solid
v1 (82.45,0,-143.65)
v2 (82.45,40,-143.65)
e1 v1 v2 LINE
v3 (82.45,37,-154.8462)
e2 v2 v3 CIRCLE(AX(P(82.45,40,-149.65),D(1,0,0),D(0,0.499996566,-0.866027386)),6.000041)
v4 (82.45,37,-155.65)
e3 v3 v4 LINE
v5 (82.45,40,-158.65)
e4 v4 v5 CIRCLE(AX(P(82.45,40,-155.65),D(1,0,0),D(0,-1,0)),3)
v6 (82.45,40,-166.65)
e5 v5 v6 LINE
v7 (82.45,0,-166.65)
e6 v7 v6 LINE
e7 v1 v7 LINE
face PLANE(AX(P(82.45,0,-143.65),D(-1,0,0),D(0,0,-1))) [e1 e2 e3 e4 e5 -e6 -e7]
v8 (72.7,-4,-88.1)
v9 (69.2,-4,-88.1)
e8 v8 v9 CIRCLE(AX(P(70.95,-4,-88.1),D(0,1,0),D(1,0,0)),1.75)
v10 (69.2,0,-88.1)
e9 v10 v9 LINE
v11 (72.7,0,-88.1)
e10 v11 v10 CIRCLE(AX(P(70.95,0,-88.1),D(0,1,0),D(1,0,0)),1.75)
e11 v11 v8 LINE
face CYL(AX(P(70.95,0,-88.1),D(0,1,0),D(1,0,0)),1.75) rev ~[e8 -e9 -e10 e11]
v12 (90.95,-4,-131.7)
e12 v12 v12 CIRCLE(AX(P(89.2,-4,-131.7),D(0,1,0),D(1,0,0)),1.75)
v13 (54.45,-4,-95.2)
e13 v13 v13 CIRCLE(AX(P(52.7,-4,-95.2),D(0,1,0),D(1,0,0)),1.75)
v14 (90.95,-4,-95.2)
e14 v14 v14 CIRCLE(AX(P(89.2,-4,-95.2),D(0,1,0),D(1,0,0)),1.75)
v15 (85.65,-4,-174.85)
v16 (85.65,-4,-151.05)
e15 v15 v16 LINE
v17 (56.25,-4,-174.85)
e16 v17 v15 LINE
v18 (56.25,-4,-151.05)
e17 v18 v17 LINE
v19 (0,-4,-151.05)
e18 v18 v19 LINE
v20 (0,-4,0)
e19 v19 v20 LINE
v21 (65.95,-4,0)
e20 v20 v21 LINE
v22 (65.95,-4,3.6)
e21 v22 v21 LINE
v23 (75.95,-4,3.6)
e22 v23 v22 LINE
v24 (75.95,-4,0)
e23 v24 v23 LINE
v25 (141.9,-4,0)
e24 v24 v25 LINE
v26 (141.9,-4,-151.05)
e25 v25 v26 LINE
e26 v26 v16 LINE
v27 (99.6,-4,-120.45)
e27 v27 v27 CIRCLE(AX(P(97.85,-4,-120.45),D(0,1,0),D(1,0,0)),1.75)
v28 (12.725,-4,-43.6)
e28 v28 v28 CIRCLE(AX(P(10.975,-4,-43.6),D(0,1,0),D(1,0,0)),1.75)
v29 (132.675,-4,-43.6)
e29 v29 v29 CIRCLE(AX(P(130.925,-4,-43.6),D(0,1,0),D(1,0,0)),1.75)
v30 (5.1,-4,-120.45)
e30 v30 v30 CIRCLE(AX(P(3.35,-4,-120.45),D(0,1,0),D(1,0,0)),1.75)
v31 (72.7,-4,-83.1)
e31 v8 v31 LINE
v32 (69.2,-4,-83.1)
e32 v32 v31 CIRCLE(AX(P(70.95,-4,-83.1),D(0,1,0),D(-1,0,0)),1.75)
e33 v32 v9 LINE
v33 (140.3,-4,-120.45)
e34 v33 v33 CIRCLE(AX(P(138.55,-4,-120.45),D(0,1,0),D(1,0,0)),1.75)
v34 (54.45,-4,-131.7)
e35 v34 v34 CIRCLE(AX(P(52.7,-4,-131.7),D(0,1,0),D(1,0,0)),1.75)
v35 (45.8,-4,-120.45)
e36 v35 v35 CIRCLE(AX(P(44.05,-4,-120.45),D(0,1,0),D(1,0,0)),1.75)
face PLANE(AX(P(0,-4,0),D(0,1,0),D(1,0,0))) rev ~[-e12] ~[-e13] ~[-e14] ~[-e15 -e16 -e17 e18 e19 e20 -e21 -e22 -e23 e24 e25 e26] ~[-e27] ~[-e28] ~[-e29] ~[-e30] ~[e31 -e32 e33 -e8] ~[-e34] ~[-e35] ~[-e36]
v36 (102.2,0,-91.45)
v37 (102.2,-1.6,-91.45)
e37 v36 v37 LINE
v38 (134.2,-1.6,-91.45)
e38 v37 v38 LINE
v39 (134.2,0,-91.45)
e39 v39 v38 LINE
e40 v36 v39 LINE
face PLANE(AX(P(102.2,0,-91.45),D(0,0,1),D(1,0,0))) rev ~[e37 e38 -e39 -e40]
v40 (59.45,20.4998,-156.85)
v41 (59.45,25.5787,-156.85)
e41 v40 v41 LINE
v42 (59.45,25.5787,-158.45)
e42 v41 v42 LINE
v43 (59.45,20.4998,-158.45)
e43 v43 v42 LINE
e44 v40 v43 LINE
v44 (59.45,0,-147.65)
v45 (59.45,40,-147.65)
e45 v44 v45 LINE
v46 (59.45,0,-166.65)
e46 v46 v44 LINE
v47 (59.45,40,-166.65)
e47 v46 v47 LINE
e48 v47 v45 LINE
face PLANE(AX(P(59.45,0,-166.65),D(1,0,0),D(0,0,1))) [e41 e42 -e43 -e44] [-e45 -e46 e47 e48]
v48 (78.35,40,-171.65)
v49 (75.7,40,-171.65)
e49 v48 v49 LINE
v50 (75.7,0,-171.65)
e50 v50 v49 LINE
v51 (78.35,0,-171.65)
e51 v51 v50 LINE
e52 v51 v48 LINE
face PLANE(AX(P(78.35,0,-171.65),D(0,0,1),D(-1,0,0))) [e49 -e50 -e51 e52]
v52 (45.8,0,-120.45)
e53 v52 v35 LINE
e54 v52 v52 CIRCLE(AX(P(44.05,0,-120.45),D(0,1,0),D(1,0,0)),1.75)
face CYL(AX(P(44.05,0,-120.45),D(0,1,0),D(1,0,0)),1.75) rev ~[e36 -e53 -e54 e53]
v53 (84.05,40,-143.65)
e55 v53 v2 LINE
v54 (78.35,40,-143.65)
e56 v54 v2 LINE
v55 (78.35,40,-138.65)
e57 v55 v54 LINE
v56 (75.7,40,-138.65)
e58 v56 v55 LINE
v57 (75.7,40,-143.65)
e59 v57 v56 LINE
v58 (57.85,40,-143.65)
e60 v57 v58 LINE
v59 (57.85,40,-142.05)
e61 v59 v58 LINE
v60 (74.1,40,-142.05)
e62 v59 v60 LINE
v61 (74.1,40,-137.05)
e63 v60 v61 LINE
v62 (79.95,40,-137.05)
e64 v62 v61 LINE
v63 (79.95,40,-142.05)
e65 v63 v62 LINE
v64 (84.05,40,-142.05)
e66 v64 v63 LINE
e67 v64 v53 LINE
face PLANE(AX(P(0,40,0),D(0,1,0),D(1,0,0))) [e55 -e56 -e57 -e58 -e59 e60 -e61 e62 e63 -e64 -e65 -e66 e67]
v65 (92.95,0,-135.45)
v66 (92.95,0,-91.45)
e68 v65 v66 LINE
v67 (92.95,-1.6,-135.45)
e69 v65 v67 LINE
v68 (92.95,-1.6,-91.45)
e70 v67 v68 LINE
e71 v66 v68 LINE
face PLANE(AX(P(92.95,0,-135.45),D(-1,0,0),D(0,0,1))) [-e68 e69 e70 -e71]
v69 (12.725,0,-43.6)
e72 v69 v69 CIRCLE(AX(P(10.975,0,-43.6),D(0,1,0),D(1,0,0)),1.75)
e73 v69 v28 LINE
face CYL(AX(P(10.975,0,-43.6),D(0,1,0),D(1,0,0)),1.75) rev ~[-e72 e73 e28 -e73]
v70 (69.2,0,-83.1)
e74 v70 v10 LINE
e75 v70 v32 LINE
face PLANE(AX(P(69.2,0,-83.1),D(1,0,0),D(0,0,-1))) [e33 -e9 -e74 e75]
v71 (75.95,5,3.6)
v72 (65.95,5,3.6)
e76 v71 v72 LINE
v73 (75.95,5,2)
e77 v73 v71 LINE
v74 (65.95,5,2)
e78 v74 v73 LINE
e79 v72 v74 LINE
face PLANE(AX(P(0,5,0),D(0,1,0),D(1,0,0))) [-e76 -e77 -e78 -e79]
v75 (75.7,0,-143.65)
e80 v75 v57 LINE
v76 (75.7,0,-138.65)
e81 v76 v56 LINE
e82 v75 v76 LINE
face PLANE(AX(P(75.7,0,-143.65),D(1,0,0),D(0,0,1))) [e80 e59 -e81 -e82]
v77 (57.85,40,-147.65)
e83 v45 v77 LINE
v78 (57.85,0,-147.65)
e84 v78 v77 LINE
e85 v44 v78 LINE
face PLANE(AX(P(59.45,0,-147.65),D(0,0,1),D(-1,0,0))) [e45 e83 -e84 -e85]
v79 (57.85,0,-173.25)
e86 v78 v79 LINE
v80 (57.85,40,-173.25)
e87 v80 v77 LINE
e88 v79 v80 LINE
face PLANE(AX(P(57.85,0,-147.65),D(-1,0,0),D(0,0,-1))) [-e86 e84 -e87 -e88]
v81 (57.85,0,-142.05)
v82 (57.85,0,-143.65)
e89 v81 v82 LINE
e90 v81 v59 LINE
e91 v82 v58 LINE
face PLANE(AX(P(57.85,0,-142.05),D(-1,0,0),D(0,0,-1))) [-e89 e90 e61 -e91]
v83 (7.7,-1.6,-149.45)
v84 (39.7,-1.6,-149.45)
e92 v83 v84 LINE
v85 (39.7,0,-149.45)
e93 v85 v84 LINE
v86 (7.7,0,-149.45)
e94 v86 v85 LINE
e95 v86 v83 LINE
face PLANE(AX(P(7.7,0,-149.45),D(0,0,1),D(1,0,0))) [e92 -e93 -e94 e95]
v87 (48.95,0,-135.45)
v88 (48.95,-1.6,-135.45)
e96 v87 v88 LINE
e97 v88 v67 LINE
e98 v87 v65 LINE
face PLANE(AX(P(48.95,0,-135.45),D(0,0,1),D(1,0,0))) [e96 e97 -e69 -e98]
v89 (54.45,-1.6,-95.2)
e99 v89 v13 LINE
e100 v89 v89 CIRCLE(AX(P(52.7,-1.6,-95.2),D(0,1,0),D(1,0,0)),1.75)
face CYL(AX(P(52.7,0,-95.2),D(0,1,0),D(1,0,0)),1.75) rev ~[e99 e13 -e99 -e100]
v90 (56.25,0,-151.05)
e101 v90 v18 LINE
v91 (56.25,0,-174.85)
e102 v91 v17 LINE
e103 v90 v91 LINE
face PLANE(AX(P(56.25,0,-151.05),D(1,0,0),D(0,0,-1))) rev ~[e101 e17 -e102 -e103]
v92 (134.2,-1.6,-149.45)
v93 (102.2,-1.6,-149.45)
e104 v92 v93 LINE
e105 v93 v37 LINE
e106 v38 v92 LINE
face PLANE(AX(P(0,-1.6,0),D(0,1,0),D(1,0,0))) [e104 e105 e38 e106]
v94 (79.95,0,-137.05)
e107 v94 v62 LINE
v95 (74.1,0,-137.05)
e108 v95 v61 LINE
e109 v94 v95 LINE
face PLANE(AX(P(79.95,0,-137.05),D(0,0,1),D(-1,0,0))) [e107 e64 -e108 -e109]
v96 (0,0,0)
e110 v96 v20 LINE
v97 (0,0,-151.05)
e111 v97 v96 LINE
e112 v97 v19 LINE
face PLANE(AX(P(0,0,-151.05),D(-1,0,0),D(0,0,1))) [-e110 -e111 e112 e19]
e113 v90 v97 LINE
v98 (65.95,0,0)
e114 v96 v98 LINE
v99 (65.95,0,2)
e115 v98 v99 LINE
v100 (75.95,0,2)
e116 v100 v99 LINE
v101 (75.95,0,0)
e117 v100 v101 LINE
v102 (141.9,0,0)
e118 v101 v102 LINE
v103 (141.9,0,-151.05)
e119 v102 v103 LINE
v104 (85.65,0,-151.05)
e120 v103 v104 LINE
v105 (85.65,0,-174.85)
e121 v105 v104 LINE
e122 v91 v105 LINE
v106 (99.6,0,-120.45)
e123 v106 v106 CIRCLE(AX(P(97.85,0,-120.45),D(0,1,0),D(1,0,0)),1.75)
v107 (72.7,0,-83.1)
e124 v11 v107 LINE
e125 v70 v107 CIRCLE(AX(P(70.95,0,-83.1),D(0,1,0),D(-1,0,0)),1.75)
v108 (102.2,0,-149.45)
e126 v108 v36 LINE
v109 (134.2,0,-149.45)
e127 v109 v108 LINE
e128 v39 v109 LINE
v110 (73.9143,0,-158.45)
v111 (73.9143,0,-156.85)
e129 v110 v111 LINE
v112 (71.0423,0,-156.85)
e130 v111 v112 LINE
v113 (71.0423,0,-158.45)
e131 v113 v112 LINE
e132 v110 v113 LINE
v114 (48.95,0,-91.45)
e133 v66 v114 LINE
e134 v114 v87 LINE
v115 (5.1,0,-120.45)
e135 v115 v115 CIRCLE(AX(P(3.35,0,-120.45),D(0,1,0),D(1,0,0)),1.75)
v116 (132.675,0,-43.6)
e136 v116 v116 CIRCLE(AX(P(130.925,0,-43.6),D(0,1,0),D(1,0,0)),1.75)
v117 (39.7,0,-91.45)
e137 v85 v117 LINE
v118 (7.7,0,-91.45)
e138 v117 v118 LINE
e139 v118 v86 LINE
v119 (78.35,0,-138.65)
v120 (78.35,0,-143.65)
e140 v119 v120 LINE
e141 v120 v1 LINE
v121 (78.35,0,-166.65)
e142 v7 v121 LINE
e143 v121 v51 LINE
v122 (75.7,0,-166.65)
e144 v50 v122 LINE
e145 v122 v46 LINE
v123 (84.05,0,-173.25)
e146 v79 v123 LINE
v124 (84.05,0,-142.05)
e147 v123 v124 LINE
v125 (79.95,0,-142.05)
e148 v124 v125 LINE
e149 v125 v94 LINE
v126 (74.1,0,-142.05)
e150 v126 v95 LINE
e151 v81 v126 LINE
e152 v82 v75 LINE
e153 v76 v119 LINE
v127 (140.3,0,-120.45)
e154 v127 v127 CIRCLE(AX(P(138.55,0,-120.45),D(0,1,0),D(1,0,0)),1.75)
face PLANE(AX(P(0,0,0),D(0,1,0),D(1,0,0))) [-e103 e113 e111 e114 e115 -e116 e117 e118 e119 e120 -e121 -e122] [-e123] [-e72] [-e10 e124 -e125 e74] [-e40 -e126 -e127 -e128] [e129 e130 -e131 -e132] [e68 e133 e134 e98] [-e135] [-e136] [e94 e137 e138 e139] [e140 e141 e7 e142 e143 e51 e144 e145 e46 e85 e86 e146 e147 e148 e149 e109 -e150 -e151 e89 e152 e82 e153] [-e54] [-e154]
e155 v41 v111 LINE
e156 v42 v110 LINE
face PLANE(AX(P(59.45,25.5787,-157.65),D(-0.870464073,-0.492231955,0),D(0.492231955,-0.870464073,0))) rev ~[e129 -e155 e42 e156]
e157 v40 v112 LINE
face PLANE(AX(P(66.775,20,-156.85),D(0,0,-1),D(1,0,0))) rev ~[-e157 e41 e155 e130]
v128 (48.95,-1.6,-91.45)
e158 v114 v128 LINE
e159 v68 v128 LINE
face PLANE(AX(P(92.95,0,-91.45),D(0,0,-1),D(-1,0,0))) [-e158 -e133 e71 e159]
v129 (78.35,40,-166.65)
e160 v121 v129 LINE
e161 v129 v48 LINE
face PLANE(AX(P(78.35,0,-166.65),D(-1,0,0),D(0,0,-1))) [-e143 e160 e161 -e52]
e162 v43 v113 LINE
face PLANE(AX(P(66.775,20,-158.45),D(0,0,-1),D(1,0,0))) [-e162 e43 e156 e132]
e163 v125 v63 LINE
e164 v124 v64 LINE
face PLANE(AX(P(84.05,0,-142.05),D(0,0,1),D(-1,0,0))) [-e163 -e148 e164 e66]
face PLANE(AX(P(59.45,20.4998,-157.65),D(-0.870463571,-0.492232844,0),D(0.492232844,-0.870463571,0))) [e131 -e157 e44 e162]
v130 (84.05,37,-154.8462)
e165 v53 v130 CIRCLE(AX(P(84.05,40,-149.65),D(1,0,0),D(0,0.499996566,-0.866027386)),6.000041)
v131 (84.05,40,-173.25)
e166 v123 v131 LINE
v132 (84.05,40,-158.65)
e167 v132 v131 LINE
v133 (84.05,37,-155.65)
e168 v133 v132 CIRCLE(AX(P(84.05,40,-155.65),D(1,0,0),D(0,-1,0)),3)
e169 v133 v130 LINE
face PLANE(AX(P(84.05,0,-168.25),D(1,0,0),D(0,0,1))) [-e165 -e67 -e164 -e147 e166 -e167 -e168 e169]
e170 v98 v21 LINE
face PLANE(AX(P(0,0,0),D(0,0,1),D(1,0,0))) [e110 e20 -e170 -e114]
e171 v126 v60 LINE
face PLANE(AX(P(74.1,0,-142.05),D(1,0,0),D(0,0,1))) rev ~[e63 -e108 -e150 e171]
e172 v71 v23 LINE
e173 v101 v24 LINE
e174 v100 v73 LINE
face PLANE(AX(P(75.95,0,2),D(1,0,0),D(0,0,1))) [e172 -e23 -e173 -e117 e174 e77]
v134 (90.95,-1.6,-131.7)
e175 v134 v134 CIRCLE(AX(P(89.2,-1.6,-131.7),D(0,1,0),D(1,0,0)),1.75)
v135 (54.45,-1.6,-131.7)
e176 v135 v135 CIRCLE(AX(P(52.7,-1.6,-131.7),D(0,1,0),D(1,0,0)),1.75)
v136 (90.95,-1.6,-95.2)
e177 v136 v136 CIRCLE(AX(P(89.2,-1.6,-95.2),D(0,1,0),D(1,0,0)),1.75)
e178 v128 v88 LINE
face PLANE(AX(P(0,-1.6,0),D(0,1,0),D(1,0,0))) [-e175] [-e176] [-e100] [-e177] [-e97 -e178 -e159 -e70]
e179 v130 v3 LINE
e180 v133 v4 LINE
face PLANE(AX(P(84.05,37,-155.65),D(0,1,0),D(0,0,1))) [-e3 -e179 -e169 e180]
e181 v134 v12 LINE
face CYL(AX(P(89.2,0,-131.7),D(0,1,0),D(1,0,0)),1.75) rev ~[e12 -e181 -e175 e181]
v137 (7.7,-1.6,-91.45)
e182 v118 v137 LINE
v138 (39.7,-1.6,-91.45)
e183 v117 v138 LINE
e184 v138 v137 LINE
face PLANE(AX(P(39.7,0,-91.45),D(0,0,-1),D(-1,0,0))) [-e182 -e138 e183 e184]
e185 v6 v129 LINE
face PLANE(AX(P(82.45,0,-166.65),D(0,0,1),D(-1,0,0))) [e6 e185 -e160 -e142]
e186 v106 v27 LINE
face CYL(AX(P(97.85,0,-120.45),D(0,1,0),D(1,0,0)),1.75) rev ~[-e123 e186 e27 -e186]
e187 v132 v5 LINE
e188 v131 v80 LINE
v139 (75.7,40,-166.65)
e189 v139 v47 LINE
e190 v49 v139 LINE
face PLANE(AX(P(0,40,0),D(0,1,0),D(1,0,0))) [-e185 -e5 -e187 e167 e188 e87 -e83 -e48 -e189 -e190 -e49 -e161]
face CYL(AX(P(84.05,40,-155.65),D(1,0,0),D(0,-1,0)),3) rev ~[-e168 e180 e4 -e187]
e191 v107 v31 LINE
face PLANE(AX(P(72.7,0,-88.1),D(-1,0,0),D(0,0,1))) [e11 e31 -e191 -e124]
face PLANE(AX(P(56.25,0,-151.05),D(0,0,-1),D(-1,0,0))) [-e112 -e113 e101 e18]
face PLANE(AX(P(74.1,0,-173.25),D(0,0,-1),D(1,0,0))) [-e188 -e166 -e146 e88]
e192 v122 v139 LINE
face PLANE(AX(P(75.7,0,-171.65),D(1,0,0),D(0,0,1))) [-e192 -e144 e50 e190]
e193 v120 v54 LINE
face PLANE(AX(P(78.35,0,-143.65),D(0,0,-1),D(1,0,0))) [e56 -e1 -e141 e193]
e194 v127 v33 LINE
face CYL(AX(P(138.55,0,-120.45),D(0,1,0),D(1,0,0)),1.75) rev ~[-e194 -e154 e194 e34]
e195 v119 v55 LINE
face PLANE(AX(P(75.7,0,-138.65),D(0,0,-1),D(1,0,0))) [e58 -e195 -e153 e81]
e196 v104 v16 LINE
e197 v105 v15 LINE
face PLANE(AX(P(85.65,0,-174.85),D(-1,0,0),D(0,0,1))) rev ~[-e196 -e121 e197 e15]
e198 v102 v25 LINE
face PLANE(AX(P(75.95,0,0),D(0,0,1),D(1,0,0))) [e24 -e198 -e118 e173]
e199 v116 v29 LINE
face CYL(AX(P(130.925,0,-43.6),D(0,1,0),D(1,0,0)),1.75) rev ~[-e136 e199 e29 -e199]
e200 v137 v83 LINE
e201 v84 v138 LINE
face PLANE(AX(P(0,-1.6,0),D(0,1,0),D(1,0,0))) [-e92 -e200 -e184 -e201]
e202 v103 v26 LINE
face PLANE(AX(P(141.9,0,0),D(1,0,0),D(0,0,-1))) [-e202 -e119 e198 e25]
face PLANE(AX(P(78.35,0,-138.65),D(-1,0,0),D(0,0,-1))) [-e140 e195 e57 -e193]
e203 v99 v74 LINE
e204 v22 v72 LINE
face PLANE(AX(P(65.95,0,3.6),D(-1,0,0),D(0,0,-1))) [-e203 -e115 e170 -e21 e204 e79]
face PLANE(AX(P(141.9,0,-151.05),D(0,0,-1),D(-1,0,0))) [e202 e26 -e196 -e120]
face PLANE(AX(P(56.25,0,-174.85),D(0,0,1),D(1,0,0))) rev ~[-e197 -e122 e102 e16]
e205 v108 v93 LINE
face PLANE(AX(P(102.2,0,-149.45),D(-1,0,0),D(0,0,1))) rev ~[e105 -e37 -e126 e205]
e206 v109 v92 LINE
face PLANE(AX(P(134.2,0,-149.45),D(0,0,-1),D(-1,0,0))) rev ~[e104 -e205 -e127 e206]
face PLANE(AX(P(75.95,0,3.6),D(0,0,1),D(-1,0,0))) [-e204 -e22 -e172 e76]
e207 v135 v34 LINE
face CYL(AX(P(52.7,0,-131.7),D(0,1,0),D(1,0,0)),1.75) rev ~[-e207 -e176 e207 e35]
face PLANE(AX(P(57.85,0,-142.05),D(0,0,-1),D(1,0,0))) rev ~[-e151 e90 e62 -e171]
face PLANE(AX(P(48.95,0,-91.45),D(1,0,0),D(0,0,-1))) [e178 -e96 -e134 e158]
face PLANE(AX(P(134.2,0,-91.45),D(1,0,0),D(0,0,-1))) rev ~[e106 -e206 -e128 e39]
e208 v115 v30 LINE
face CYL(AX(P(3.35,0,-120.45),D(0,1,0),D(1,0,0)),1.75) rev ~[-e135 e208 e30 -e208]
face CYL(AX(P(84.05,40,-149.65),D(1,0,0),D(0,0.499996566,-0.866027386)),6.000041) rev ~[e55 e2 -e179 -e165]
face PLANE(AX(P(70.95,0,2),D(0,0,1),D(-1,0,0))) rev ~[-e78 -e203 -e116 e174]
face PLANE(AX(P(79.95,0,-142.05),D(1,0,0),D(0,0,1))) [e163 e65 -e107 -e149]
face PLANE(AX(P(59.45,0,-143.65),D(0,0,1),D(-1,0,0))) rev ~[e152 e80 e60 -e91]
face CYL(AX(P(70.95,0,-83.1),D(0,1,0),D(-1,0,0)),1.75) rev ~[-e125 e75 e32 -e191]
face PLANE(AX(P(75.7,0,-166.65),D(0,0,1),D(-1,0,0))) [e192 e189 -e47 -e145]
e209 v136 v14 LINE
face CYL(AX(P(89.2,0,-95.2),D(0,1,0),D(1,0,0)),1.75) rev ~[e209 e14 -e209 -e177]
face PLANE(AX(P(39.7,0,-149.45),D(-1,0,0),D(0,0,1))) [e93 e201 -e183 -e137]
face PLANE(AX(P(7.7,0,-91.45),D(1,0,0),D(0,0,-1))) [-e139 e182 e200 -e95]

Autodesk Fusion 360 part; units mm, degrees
sketch "Sketch2" plane through (0, 0, 0) normal (1, 0, 0) x (0, 0, -1)
  line L0 (0, 0) -> (0, 10)
  dimension "d53" = 10
sketch "Sketch1" plane through (0, 0, 0) normal (0, 1, 0) x (1, 0, 0)
  line L0 (0, 0) -> (141.9, 0)
  line L1 (141.9, 0) -> (141.9, 151.05)
  line L2 (0, 151.05) -> (0, 0)
  line L3 (130.925, 43.6) -> (10.975, 43.6) construction
  circle A0 centre (10.975, 43.6) radius 1.75
  circle A1 centre (130.925, 43.6) radius 1.75
  line L4 (70.95, 0) -> (70.95, 43.6) construction
  line L5 (65.95, 0) -> (68.5, 0)
  line L6 (70.95, -2) -> (65.95, -2)
  line L7 (65.95, -2) -> (65.95, 0)
  line L8 (75.95, -2) -> (75.95, 0)
  line L9 (70.95, -2) -> (75.95, -2)
  line L10 (70.95, 43.6) -> (70.95, 85.6) construction
  line L11 (72.7, 88.1) -> (72.7, 83.1)
  line L12 (69.2, 83.1) -> (69.2, 88.1)
  arc A2 (72.7, 88.1) -> (69.2, 88.1) centre (70.95, 88.1) ccw
  arc A3 (69.2, 83.1) -> (72.7, 83.1) centre (70.95, 83.1) ccw
  line L13 (69.2, 85.6) -> (72.7, 85.6) construction
  line L14 (3.35, 120.45) -> (44.05, 120.45) construction
  circle A4 centre (3.35, 120.45) radius 1.75
  circle A5 centre (44.05, 120.45) radius 1.75
  line L15 (23.7, 151.05) -> (23.7, 120.45) construction
  line L16 (7.7, 149.45) -> (39.7, 149.45)
  line L17 (39.7, 149.45) -> (39.7, 91.45)
  line L18 (39.7, 91.45) -> (7.7, 91.45)
  line L19 (7.7, 91.45) -> (7.7, 149.45)
  line L20 (134.2, 91.45) -> (134.2, 149.45)
  line L21 (134.2, 149.45) -> (102.2, 149.45)
  line L22 (102.2, 149.45) -> (102.2, 91.45)
  circle A6 centre (138.55, 120.45) radius 1.75
  line L23 (102.2, 91.45) -> (134.2, 91.45)
  circle A7 centre (97.85, 120.45) radius 1.75
  line L24 (48.95, 135.45) -> (92.95, 135.45)
  line L25 (92.95, 135.45) -> (92.95, 91.45)
  line L26 (92.95, 91.45) -> (48.95, 91.45)
  line L27 (48.95, 91.45) -> (48.95, 135.45)
  line L28 (48.95, 113.45) -> (39.7, 113.45) construction
  line L29 (92.95, 113.45) -> (102.2, 113.45) construction
  circle A8 centre (52.7, 131.7) radius 1.75
  circle A9 centre (52.7, 95.2) radius 1.75
  circle A10 centre (89.2, 95.2) radius 1.75
  circle A11 centre (89.2, 131.7) radius 1.75
  line L30 (74.1, 142.05) -> (74.1, 137.05)
  line L31 (74.1, 173.25) -> (74.1, 168.25)
  line L32 (82.45, 143.65) -> (82.45, 166.65)
  line L33 (74.1, 173.25) -> (79.95, 173.25)
  line L34 (57.85, 142.05) -> (74.1, 142.05)
  line L35 (74.1, 168.25) -> (57.85, 168.25)
  line L36 (57.85, 142.05) -> (57.85, 168.25)
  line L37 (78.35, 138.65) -> (78.35, 143.65)
  line L38 (78.35, 166.65) -> (78.35, 171.65)
  line L39 (82.45, 166.65) -> (78.35, 166.65)
  line L40 (78.35, 143.65) -> (82.45, 143.65)
  line L41 (75.7, 166.65) -> (59.45, 166.65)
  line L42 (59.45, 166.65) -> (59.45, 143.65)
  line L43 (75.7, 171.65) -> (75.7, 166.65)
  line L44 (59.45, 143.65) -> (75.7, 143.65)
  line L45 (78.35, 171.65) -> (75.7, 171.65)
  line L46 (75.7, 138.65) -> (78.35, 138.65)
  line L47 (75.7, 143.65) -> (75.7, 138.65)
  line L48 (84.05, 142.05) -> (79.95, 142.05)
  line L49 (79.95, 137.05) -> (74.1, 137.05)
  line L50 (84.05, 168.25) -> (84.05, 142.05)
  line L51 (79.95, 142.05) -> (79.95, 137.05)
  line L52 (79.95, 168.25) -> (79.95, 173.25)
  line L53 (84.05, 168.25) -> (79.95, 168.25)
  line L54 (82.45, 155.15) -> (59.45, 155.15) construction
  line L55 (70.95, 155.15) -> (70.95, 135.45) construction
  line L56 (56.25, 151.05) -> (56.25, 174.85)
  line L57 (56.25, 174.85) -> (85.65, 174.85)
  line L58 (85.65, 174.85) -> (85.65, 151.05)
  line L59 (141.9, 151.05) -> (85.65, 151.05)
  line L60 (56.25, 151.05) -> (0, 151.05)
  line L61 (59.45, 143.65) -> (57.85, 143.65)
  line L62 (59.45, 147.65) -> (57.85, 147.65)
  line L63 (74.1, 173.25) -> (57.85, 173.25)
  line L64 (57.85, 173.25) -> (57.85, 168.25)
  line L65 (79.95, 173.25) -> (84.05, 173.25)
  line L66 (84.05, 173.25) -> (84.05, 168.25)
  line L67 (75.95, -2) -> (75.95, -3.6)
  line L68 (75.95, -3.6) -> (65.95, -3.6)
  line L69 (65.95, -3.6) -> (65.95, -2)
  point P0 (70.95, 113.45)
  point P1 (-289, 70)
  dimension "d1" = 141.9
  dimension "d2" = 151.05
  dimension "d3" = 119.95
  dimension "d4" = 3.5
  dimension "d6" = 5
  dimension "d8" = 43.6
  dimension "d9" = 42
  dimension "d10" = 3.5
  dimension "d11" = 5
  dimension "d12" = 40.7
  dimension "d13" = 3.5
  dimension "d14" = 3.35
  dimension "d15" = 30.6
  dimension "d16" = 58
  dimension "d17" = 1.6
  dimension "d18" = 32
  dimension "d19" = 16
  dimension "d20" = 44
  dimension "d23" = 44
  dimension "d24" = 3.35
  dimension "d25" = 3.5
  dimension "d26" = 3.75
  dimension "d27" = 3.75
  dimension "d28" = 22
  dimension "d29" = 22
  dimension "d31" = 360
  dimension "d32" = 4.9
  dimension "d33" = 4.9
  dimension "d34" = 1.6
  dimension "d35" = 1.6
  dimension "d36" = 1.6
  dimension "d37" = 1.6
  dimension "d38" = 1.6
  dimension "d39" = 1.6
  dimension "d40" = 1.6
  dimension "d41" = 1.6
  dimension "d42" = 1.6
  dimension "d43" = 1.6
  dimension "d44" = 1.6
  dimension "d45" = 1.6
  dimension "d47" = 5
  dimension "d48" = 23
  dimension "d49" = 23
  dimension "d50" = 4.1
  dimension "d51" = 6.75
  dimension "d54" = 1.6
  dimension "d55" = 1.6
  dimension "d56" = 1.6
  dimension "d57" = 1.6
  dimension "d58" = 4
  dimension "d80" = 2
  dimension "d81" = 1.6
extrude "Extrude1" add sketch "Sketch1" against normal blind 4 contours L0 L1 L2 L5 L56 L57 L58 L59 L60 | L0 L5 L6 L7 L8 L9 | L6 L9 L67 L68 L69 | L16 L17 L18 L19 | L20 L21 L22 L23 | L24 L25 L26 L27 | L30 L31 L32 L33 L34 L35 L36 L37 L38 L39 L40 L41 L42 L43 L44 L45 L46 L47 L48 L49 L50 L51 L52 L53 L61 L62 | L36 L42 L61 L62 | L32 L37 L38 L39 L40 L41 L42 L43 L44 L45 L46 L47 | L31 L35 L63 L64 | L52 L53 L65 L66
extrude "Extrude2" cut sketch "Sketch1" against normal blind 1.6 contours L16 L17 L18 L19 | L20 L21 L22 L23 | L24 L25 L26 L27
extrude "Extrude3" add sketch "Sketch1" along normal blind 5 contours L6 L9 L67 L68 L69
extrude "Extrude4" add sketch "Sketch1" along normal blind 40 contours L30 L31 L32 L33 L34 L35 L36 L37 L38 L39 L40 L41 L42 L43 L44 L45 L46 L47 L48 L49 L50 L51 L52 L53 L61 L62 | L31 L35 L63 L64 | L52 L53 L65 L66
sketch "Sketch3" plane through (84.05, 0, 0) normal (1, 0, 0) x (0, 0, -1)
  line L0 (142.05, 0) -> (173.25, 0)
  line L1 (173.25, 0) -> (173.25, 40)
  line L2 (173.25, 40) -> (142.05, 40)
  line L3 (142.05, 40) -> (142.05, 0)
  line L4 (143.65, 0) -> (143.65, 40)
  line L5 (155.65, 43) -> (154.8462, 43)
  line L6 (155.65, 37) -> (154.8462, 37)
  arc A0 (155.65, 37) -> (155.65, 43) centre (155.65, 40) ccw
  arc A1 (154.8462, 43) -> (154.8462, 37) centre (149.65, 40) ccw
  dimension "d69" = 6
  dimension "d70" = 12
  dimension "d71" = 6
extrude "Extrude6" cut sketch "Sketch3" against normal blind 5 contours L2 L6 A0 A1
ref_plane "WorkPlane1" through (66.775, 20, -157.65) normal (0, 0, -1) x (-1, 0, 0)
sketch "Sketch4" plane through (66.775, 20, -157.65) normal (0, 0, -1) x (1, 0, 0)
  line L0 (-7.325, 20) -> (-7.325, -20)
  line L1 (-7.325, -20) -> (-7.325, 20)
  line L2 (-7.325, -5.5787) -> (-7.325, -0.4998)
  line L3 (8.925, 20) -> (-7.325, 20)
  line L4 (-7.325, -5.5787) -> (7.1393, 20)
  line L5 (-7.325, -0.4998) -> (4.2673, 20)
  line L6 (4.2673, 20) -> (7.1393, 20)
  dimension "d77" = 2.5
extrude "Extrude7" add sketch "Sketch4" along normal mid plane 1.6 contours L0 L1 L2 L3 L4 L5 L6
equation "d15 = ( 58 / 2 ) * 1 mm + 1.6 mm"
equation "d34 = d44"
equation "d35 = d44"
equation "d36 = d44"
equation "d37 = d44"
equation "d38 = d44"
equation "d39 = d44"
equation "d40 = d44"
equation "d41 = d44"
equation "d42 = d44"
equation "d43 = d44"
equation "d45 = d44"
equation "d56 = d34"
equation "d57 = d55"
